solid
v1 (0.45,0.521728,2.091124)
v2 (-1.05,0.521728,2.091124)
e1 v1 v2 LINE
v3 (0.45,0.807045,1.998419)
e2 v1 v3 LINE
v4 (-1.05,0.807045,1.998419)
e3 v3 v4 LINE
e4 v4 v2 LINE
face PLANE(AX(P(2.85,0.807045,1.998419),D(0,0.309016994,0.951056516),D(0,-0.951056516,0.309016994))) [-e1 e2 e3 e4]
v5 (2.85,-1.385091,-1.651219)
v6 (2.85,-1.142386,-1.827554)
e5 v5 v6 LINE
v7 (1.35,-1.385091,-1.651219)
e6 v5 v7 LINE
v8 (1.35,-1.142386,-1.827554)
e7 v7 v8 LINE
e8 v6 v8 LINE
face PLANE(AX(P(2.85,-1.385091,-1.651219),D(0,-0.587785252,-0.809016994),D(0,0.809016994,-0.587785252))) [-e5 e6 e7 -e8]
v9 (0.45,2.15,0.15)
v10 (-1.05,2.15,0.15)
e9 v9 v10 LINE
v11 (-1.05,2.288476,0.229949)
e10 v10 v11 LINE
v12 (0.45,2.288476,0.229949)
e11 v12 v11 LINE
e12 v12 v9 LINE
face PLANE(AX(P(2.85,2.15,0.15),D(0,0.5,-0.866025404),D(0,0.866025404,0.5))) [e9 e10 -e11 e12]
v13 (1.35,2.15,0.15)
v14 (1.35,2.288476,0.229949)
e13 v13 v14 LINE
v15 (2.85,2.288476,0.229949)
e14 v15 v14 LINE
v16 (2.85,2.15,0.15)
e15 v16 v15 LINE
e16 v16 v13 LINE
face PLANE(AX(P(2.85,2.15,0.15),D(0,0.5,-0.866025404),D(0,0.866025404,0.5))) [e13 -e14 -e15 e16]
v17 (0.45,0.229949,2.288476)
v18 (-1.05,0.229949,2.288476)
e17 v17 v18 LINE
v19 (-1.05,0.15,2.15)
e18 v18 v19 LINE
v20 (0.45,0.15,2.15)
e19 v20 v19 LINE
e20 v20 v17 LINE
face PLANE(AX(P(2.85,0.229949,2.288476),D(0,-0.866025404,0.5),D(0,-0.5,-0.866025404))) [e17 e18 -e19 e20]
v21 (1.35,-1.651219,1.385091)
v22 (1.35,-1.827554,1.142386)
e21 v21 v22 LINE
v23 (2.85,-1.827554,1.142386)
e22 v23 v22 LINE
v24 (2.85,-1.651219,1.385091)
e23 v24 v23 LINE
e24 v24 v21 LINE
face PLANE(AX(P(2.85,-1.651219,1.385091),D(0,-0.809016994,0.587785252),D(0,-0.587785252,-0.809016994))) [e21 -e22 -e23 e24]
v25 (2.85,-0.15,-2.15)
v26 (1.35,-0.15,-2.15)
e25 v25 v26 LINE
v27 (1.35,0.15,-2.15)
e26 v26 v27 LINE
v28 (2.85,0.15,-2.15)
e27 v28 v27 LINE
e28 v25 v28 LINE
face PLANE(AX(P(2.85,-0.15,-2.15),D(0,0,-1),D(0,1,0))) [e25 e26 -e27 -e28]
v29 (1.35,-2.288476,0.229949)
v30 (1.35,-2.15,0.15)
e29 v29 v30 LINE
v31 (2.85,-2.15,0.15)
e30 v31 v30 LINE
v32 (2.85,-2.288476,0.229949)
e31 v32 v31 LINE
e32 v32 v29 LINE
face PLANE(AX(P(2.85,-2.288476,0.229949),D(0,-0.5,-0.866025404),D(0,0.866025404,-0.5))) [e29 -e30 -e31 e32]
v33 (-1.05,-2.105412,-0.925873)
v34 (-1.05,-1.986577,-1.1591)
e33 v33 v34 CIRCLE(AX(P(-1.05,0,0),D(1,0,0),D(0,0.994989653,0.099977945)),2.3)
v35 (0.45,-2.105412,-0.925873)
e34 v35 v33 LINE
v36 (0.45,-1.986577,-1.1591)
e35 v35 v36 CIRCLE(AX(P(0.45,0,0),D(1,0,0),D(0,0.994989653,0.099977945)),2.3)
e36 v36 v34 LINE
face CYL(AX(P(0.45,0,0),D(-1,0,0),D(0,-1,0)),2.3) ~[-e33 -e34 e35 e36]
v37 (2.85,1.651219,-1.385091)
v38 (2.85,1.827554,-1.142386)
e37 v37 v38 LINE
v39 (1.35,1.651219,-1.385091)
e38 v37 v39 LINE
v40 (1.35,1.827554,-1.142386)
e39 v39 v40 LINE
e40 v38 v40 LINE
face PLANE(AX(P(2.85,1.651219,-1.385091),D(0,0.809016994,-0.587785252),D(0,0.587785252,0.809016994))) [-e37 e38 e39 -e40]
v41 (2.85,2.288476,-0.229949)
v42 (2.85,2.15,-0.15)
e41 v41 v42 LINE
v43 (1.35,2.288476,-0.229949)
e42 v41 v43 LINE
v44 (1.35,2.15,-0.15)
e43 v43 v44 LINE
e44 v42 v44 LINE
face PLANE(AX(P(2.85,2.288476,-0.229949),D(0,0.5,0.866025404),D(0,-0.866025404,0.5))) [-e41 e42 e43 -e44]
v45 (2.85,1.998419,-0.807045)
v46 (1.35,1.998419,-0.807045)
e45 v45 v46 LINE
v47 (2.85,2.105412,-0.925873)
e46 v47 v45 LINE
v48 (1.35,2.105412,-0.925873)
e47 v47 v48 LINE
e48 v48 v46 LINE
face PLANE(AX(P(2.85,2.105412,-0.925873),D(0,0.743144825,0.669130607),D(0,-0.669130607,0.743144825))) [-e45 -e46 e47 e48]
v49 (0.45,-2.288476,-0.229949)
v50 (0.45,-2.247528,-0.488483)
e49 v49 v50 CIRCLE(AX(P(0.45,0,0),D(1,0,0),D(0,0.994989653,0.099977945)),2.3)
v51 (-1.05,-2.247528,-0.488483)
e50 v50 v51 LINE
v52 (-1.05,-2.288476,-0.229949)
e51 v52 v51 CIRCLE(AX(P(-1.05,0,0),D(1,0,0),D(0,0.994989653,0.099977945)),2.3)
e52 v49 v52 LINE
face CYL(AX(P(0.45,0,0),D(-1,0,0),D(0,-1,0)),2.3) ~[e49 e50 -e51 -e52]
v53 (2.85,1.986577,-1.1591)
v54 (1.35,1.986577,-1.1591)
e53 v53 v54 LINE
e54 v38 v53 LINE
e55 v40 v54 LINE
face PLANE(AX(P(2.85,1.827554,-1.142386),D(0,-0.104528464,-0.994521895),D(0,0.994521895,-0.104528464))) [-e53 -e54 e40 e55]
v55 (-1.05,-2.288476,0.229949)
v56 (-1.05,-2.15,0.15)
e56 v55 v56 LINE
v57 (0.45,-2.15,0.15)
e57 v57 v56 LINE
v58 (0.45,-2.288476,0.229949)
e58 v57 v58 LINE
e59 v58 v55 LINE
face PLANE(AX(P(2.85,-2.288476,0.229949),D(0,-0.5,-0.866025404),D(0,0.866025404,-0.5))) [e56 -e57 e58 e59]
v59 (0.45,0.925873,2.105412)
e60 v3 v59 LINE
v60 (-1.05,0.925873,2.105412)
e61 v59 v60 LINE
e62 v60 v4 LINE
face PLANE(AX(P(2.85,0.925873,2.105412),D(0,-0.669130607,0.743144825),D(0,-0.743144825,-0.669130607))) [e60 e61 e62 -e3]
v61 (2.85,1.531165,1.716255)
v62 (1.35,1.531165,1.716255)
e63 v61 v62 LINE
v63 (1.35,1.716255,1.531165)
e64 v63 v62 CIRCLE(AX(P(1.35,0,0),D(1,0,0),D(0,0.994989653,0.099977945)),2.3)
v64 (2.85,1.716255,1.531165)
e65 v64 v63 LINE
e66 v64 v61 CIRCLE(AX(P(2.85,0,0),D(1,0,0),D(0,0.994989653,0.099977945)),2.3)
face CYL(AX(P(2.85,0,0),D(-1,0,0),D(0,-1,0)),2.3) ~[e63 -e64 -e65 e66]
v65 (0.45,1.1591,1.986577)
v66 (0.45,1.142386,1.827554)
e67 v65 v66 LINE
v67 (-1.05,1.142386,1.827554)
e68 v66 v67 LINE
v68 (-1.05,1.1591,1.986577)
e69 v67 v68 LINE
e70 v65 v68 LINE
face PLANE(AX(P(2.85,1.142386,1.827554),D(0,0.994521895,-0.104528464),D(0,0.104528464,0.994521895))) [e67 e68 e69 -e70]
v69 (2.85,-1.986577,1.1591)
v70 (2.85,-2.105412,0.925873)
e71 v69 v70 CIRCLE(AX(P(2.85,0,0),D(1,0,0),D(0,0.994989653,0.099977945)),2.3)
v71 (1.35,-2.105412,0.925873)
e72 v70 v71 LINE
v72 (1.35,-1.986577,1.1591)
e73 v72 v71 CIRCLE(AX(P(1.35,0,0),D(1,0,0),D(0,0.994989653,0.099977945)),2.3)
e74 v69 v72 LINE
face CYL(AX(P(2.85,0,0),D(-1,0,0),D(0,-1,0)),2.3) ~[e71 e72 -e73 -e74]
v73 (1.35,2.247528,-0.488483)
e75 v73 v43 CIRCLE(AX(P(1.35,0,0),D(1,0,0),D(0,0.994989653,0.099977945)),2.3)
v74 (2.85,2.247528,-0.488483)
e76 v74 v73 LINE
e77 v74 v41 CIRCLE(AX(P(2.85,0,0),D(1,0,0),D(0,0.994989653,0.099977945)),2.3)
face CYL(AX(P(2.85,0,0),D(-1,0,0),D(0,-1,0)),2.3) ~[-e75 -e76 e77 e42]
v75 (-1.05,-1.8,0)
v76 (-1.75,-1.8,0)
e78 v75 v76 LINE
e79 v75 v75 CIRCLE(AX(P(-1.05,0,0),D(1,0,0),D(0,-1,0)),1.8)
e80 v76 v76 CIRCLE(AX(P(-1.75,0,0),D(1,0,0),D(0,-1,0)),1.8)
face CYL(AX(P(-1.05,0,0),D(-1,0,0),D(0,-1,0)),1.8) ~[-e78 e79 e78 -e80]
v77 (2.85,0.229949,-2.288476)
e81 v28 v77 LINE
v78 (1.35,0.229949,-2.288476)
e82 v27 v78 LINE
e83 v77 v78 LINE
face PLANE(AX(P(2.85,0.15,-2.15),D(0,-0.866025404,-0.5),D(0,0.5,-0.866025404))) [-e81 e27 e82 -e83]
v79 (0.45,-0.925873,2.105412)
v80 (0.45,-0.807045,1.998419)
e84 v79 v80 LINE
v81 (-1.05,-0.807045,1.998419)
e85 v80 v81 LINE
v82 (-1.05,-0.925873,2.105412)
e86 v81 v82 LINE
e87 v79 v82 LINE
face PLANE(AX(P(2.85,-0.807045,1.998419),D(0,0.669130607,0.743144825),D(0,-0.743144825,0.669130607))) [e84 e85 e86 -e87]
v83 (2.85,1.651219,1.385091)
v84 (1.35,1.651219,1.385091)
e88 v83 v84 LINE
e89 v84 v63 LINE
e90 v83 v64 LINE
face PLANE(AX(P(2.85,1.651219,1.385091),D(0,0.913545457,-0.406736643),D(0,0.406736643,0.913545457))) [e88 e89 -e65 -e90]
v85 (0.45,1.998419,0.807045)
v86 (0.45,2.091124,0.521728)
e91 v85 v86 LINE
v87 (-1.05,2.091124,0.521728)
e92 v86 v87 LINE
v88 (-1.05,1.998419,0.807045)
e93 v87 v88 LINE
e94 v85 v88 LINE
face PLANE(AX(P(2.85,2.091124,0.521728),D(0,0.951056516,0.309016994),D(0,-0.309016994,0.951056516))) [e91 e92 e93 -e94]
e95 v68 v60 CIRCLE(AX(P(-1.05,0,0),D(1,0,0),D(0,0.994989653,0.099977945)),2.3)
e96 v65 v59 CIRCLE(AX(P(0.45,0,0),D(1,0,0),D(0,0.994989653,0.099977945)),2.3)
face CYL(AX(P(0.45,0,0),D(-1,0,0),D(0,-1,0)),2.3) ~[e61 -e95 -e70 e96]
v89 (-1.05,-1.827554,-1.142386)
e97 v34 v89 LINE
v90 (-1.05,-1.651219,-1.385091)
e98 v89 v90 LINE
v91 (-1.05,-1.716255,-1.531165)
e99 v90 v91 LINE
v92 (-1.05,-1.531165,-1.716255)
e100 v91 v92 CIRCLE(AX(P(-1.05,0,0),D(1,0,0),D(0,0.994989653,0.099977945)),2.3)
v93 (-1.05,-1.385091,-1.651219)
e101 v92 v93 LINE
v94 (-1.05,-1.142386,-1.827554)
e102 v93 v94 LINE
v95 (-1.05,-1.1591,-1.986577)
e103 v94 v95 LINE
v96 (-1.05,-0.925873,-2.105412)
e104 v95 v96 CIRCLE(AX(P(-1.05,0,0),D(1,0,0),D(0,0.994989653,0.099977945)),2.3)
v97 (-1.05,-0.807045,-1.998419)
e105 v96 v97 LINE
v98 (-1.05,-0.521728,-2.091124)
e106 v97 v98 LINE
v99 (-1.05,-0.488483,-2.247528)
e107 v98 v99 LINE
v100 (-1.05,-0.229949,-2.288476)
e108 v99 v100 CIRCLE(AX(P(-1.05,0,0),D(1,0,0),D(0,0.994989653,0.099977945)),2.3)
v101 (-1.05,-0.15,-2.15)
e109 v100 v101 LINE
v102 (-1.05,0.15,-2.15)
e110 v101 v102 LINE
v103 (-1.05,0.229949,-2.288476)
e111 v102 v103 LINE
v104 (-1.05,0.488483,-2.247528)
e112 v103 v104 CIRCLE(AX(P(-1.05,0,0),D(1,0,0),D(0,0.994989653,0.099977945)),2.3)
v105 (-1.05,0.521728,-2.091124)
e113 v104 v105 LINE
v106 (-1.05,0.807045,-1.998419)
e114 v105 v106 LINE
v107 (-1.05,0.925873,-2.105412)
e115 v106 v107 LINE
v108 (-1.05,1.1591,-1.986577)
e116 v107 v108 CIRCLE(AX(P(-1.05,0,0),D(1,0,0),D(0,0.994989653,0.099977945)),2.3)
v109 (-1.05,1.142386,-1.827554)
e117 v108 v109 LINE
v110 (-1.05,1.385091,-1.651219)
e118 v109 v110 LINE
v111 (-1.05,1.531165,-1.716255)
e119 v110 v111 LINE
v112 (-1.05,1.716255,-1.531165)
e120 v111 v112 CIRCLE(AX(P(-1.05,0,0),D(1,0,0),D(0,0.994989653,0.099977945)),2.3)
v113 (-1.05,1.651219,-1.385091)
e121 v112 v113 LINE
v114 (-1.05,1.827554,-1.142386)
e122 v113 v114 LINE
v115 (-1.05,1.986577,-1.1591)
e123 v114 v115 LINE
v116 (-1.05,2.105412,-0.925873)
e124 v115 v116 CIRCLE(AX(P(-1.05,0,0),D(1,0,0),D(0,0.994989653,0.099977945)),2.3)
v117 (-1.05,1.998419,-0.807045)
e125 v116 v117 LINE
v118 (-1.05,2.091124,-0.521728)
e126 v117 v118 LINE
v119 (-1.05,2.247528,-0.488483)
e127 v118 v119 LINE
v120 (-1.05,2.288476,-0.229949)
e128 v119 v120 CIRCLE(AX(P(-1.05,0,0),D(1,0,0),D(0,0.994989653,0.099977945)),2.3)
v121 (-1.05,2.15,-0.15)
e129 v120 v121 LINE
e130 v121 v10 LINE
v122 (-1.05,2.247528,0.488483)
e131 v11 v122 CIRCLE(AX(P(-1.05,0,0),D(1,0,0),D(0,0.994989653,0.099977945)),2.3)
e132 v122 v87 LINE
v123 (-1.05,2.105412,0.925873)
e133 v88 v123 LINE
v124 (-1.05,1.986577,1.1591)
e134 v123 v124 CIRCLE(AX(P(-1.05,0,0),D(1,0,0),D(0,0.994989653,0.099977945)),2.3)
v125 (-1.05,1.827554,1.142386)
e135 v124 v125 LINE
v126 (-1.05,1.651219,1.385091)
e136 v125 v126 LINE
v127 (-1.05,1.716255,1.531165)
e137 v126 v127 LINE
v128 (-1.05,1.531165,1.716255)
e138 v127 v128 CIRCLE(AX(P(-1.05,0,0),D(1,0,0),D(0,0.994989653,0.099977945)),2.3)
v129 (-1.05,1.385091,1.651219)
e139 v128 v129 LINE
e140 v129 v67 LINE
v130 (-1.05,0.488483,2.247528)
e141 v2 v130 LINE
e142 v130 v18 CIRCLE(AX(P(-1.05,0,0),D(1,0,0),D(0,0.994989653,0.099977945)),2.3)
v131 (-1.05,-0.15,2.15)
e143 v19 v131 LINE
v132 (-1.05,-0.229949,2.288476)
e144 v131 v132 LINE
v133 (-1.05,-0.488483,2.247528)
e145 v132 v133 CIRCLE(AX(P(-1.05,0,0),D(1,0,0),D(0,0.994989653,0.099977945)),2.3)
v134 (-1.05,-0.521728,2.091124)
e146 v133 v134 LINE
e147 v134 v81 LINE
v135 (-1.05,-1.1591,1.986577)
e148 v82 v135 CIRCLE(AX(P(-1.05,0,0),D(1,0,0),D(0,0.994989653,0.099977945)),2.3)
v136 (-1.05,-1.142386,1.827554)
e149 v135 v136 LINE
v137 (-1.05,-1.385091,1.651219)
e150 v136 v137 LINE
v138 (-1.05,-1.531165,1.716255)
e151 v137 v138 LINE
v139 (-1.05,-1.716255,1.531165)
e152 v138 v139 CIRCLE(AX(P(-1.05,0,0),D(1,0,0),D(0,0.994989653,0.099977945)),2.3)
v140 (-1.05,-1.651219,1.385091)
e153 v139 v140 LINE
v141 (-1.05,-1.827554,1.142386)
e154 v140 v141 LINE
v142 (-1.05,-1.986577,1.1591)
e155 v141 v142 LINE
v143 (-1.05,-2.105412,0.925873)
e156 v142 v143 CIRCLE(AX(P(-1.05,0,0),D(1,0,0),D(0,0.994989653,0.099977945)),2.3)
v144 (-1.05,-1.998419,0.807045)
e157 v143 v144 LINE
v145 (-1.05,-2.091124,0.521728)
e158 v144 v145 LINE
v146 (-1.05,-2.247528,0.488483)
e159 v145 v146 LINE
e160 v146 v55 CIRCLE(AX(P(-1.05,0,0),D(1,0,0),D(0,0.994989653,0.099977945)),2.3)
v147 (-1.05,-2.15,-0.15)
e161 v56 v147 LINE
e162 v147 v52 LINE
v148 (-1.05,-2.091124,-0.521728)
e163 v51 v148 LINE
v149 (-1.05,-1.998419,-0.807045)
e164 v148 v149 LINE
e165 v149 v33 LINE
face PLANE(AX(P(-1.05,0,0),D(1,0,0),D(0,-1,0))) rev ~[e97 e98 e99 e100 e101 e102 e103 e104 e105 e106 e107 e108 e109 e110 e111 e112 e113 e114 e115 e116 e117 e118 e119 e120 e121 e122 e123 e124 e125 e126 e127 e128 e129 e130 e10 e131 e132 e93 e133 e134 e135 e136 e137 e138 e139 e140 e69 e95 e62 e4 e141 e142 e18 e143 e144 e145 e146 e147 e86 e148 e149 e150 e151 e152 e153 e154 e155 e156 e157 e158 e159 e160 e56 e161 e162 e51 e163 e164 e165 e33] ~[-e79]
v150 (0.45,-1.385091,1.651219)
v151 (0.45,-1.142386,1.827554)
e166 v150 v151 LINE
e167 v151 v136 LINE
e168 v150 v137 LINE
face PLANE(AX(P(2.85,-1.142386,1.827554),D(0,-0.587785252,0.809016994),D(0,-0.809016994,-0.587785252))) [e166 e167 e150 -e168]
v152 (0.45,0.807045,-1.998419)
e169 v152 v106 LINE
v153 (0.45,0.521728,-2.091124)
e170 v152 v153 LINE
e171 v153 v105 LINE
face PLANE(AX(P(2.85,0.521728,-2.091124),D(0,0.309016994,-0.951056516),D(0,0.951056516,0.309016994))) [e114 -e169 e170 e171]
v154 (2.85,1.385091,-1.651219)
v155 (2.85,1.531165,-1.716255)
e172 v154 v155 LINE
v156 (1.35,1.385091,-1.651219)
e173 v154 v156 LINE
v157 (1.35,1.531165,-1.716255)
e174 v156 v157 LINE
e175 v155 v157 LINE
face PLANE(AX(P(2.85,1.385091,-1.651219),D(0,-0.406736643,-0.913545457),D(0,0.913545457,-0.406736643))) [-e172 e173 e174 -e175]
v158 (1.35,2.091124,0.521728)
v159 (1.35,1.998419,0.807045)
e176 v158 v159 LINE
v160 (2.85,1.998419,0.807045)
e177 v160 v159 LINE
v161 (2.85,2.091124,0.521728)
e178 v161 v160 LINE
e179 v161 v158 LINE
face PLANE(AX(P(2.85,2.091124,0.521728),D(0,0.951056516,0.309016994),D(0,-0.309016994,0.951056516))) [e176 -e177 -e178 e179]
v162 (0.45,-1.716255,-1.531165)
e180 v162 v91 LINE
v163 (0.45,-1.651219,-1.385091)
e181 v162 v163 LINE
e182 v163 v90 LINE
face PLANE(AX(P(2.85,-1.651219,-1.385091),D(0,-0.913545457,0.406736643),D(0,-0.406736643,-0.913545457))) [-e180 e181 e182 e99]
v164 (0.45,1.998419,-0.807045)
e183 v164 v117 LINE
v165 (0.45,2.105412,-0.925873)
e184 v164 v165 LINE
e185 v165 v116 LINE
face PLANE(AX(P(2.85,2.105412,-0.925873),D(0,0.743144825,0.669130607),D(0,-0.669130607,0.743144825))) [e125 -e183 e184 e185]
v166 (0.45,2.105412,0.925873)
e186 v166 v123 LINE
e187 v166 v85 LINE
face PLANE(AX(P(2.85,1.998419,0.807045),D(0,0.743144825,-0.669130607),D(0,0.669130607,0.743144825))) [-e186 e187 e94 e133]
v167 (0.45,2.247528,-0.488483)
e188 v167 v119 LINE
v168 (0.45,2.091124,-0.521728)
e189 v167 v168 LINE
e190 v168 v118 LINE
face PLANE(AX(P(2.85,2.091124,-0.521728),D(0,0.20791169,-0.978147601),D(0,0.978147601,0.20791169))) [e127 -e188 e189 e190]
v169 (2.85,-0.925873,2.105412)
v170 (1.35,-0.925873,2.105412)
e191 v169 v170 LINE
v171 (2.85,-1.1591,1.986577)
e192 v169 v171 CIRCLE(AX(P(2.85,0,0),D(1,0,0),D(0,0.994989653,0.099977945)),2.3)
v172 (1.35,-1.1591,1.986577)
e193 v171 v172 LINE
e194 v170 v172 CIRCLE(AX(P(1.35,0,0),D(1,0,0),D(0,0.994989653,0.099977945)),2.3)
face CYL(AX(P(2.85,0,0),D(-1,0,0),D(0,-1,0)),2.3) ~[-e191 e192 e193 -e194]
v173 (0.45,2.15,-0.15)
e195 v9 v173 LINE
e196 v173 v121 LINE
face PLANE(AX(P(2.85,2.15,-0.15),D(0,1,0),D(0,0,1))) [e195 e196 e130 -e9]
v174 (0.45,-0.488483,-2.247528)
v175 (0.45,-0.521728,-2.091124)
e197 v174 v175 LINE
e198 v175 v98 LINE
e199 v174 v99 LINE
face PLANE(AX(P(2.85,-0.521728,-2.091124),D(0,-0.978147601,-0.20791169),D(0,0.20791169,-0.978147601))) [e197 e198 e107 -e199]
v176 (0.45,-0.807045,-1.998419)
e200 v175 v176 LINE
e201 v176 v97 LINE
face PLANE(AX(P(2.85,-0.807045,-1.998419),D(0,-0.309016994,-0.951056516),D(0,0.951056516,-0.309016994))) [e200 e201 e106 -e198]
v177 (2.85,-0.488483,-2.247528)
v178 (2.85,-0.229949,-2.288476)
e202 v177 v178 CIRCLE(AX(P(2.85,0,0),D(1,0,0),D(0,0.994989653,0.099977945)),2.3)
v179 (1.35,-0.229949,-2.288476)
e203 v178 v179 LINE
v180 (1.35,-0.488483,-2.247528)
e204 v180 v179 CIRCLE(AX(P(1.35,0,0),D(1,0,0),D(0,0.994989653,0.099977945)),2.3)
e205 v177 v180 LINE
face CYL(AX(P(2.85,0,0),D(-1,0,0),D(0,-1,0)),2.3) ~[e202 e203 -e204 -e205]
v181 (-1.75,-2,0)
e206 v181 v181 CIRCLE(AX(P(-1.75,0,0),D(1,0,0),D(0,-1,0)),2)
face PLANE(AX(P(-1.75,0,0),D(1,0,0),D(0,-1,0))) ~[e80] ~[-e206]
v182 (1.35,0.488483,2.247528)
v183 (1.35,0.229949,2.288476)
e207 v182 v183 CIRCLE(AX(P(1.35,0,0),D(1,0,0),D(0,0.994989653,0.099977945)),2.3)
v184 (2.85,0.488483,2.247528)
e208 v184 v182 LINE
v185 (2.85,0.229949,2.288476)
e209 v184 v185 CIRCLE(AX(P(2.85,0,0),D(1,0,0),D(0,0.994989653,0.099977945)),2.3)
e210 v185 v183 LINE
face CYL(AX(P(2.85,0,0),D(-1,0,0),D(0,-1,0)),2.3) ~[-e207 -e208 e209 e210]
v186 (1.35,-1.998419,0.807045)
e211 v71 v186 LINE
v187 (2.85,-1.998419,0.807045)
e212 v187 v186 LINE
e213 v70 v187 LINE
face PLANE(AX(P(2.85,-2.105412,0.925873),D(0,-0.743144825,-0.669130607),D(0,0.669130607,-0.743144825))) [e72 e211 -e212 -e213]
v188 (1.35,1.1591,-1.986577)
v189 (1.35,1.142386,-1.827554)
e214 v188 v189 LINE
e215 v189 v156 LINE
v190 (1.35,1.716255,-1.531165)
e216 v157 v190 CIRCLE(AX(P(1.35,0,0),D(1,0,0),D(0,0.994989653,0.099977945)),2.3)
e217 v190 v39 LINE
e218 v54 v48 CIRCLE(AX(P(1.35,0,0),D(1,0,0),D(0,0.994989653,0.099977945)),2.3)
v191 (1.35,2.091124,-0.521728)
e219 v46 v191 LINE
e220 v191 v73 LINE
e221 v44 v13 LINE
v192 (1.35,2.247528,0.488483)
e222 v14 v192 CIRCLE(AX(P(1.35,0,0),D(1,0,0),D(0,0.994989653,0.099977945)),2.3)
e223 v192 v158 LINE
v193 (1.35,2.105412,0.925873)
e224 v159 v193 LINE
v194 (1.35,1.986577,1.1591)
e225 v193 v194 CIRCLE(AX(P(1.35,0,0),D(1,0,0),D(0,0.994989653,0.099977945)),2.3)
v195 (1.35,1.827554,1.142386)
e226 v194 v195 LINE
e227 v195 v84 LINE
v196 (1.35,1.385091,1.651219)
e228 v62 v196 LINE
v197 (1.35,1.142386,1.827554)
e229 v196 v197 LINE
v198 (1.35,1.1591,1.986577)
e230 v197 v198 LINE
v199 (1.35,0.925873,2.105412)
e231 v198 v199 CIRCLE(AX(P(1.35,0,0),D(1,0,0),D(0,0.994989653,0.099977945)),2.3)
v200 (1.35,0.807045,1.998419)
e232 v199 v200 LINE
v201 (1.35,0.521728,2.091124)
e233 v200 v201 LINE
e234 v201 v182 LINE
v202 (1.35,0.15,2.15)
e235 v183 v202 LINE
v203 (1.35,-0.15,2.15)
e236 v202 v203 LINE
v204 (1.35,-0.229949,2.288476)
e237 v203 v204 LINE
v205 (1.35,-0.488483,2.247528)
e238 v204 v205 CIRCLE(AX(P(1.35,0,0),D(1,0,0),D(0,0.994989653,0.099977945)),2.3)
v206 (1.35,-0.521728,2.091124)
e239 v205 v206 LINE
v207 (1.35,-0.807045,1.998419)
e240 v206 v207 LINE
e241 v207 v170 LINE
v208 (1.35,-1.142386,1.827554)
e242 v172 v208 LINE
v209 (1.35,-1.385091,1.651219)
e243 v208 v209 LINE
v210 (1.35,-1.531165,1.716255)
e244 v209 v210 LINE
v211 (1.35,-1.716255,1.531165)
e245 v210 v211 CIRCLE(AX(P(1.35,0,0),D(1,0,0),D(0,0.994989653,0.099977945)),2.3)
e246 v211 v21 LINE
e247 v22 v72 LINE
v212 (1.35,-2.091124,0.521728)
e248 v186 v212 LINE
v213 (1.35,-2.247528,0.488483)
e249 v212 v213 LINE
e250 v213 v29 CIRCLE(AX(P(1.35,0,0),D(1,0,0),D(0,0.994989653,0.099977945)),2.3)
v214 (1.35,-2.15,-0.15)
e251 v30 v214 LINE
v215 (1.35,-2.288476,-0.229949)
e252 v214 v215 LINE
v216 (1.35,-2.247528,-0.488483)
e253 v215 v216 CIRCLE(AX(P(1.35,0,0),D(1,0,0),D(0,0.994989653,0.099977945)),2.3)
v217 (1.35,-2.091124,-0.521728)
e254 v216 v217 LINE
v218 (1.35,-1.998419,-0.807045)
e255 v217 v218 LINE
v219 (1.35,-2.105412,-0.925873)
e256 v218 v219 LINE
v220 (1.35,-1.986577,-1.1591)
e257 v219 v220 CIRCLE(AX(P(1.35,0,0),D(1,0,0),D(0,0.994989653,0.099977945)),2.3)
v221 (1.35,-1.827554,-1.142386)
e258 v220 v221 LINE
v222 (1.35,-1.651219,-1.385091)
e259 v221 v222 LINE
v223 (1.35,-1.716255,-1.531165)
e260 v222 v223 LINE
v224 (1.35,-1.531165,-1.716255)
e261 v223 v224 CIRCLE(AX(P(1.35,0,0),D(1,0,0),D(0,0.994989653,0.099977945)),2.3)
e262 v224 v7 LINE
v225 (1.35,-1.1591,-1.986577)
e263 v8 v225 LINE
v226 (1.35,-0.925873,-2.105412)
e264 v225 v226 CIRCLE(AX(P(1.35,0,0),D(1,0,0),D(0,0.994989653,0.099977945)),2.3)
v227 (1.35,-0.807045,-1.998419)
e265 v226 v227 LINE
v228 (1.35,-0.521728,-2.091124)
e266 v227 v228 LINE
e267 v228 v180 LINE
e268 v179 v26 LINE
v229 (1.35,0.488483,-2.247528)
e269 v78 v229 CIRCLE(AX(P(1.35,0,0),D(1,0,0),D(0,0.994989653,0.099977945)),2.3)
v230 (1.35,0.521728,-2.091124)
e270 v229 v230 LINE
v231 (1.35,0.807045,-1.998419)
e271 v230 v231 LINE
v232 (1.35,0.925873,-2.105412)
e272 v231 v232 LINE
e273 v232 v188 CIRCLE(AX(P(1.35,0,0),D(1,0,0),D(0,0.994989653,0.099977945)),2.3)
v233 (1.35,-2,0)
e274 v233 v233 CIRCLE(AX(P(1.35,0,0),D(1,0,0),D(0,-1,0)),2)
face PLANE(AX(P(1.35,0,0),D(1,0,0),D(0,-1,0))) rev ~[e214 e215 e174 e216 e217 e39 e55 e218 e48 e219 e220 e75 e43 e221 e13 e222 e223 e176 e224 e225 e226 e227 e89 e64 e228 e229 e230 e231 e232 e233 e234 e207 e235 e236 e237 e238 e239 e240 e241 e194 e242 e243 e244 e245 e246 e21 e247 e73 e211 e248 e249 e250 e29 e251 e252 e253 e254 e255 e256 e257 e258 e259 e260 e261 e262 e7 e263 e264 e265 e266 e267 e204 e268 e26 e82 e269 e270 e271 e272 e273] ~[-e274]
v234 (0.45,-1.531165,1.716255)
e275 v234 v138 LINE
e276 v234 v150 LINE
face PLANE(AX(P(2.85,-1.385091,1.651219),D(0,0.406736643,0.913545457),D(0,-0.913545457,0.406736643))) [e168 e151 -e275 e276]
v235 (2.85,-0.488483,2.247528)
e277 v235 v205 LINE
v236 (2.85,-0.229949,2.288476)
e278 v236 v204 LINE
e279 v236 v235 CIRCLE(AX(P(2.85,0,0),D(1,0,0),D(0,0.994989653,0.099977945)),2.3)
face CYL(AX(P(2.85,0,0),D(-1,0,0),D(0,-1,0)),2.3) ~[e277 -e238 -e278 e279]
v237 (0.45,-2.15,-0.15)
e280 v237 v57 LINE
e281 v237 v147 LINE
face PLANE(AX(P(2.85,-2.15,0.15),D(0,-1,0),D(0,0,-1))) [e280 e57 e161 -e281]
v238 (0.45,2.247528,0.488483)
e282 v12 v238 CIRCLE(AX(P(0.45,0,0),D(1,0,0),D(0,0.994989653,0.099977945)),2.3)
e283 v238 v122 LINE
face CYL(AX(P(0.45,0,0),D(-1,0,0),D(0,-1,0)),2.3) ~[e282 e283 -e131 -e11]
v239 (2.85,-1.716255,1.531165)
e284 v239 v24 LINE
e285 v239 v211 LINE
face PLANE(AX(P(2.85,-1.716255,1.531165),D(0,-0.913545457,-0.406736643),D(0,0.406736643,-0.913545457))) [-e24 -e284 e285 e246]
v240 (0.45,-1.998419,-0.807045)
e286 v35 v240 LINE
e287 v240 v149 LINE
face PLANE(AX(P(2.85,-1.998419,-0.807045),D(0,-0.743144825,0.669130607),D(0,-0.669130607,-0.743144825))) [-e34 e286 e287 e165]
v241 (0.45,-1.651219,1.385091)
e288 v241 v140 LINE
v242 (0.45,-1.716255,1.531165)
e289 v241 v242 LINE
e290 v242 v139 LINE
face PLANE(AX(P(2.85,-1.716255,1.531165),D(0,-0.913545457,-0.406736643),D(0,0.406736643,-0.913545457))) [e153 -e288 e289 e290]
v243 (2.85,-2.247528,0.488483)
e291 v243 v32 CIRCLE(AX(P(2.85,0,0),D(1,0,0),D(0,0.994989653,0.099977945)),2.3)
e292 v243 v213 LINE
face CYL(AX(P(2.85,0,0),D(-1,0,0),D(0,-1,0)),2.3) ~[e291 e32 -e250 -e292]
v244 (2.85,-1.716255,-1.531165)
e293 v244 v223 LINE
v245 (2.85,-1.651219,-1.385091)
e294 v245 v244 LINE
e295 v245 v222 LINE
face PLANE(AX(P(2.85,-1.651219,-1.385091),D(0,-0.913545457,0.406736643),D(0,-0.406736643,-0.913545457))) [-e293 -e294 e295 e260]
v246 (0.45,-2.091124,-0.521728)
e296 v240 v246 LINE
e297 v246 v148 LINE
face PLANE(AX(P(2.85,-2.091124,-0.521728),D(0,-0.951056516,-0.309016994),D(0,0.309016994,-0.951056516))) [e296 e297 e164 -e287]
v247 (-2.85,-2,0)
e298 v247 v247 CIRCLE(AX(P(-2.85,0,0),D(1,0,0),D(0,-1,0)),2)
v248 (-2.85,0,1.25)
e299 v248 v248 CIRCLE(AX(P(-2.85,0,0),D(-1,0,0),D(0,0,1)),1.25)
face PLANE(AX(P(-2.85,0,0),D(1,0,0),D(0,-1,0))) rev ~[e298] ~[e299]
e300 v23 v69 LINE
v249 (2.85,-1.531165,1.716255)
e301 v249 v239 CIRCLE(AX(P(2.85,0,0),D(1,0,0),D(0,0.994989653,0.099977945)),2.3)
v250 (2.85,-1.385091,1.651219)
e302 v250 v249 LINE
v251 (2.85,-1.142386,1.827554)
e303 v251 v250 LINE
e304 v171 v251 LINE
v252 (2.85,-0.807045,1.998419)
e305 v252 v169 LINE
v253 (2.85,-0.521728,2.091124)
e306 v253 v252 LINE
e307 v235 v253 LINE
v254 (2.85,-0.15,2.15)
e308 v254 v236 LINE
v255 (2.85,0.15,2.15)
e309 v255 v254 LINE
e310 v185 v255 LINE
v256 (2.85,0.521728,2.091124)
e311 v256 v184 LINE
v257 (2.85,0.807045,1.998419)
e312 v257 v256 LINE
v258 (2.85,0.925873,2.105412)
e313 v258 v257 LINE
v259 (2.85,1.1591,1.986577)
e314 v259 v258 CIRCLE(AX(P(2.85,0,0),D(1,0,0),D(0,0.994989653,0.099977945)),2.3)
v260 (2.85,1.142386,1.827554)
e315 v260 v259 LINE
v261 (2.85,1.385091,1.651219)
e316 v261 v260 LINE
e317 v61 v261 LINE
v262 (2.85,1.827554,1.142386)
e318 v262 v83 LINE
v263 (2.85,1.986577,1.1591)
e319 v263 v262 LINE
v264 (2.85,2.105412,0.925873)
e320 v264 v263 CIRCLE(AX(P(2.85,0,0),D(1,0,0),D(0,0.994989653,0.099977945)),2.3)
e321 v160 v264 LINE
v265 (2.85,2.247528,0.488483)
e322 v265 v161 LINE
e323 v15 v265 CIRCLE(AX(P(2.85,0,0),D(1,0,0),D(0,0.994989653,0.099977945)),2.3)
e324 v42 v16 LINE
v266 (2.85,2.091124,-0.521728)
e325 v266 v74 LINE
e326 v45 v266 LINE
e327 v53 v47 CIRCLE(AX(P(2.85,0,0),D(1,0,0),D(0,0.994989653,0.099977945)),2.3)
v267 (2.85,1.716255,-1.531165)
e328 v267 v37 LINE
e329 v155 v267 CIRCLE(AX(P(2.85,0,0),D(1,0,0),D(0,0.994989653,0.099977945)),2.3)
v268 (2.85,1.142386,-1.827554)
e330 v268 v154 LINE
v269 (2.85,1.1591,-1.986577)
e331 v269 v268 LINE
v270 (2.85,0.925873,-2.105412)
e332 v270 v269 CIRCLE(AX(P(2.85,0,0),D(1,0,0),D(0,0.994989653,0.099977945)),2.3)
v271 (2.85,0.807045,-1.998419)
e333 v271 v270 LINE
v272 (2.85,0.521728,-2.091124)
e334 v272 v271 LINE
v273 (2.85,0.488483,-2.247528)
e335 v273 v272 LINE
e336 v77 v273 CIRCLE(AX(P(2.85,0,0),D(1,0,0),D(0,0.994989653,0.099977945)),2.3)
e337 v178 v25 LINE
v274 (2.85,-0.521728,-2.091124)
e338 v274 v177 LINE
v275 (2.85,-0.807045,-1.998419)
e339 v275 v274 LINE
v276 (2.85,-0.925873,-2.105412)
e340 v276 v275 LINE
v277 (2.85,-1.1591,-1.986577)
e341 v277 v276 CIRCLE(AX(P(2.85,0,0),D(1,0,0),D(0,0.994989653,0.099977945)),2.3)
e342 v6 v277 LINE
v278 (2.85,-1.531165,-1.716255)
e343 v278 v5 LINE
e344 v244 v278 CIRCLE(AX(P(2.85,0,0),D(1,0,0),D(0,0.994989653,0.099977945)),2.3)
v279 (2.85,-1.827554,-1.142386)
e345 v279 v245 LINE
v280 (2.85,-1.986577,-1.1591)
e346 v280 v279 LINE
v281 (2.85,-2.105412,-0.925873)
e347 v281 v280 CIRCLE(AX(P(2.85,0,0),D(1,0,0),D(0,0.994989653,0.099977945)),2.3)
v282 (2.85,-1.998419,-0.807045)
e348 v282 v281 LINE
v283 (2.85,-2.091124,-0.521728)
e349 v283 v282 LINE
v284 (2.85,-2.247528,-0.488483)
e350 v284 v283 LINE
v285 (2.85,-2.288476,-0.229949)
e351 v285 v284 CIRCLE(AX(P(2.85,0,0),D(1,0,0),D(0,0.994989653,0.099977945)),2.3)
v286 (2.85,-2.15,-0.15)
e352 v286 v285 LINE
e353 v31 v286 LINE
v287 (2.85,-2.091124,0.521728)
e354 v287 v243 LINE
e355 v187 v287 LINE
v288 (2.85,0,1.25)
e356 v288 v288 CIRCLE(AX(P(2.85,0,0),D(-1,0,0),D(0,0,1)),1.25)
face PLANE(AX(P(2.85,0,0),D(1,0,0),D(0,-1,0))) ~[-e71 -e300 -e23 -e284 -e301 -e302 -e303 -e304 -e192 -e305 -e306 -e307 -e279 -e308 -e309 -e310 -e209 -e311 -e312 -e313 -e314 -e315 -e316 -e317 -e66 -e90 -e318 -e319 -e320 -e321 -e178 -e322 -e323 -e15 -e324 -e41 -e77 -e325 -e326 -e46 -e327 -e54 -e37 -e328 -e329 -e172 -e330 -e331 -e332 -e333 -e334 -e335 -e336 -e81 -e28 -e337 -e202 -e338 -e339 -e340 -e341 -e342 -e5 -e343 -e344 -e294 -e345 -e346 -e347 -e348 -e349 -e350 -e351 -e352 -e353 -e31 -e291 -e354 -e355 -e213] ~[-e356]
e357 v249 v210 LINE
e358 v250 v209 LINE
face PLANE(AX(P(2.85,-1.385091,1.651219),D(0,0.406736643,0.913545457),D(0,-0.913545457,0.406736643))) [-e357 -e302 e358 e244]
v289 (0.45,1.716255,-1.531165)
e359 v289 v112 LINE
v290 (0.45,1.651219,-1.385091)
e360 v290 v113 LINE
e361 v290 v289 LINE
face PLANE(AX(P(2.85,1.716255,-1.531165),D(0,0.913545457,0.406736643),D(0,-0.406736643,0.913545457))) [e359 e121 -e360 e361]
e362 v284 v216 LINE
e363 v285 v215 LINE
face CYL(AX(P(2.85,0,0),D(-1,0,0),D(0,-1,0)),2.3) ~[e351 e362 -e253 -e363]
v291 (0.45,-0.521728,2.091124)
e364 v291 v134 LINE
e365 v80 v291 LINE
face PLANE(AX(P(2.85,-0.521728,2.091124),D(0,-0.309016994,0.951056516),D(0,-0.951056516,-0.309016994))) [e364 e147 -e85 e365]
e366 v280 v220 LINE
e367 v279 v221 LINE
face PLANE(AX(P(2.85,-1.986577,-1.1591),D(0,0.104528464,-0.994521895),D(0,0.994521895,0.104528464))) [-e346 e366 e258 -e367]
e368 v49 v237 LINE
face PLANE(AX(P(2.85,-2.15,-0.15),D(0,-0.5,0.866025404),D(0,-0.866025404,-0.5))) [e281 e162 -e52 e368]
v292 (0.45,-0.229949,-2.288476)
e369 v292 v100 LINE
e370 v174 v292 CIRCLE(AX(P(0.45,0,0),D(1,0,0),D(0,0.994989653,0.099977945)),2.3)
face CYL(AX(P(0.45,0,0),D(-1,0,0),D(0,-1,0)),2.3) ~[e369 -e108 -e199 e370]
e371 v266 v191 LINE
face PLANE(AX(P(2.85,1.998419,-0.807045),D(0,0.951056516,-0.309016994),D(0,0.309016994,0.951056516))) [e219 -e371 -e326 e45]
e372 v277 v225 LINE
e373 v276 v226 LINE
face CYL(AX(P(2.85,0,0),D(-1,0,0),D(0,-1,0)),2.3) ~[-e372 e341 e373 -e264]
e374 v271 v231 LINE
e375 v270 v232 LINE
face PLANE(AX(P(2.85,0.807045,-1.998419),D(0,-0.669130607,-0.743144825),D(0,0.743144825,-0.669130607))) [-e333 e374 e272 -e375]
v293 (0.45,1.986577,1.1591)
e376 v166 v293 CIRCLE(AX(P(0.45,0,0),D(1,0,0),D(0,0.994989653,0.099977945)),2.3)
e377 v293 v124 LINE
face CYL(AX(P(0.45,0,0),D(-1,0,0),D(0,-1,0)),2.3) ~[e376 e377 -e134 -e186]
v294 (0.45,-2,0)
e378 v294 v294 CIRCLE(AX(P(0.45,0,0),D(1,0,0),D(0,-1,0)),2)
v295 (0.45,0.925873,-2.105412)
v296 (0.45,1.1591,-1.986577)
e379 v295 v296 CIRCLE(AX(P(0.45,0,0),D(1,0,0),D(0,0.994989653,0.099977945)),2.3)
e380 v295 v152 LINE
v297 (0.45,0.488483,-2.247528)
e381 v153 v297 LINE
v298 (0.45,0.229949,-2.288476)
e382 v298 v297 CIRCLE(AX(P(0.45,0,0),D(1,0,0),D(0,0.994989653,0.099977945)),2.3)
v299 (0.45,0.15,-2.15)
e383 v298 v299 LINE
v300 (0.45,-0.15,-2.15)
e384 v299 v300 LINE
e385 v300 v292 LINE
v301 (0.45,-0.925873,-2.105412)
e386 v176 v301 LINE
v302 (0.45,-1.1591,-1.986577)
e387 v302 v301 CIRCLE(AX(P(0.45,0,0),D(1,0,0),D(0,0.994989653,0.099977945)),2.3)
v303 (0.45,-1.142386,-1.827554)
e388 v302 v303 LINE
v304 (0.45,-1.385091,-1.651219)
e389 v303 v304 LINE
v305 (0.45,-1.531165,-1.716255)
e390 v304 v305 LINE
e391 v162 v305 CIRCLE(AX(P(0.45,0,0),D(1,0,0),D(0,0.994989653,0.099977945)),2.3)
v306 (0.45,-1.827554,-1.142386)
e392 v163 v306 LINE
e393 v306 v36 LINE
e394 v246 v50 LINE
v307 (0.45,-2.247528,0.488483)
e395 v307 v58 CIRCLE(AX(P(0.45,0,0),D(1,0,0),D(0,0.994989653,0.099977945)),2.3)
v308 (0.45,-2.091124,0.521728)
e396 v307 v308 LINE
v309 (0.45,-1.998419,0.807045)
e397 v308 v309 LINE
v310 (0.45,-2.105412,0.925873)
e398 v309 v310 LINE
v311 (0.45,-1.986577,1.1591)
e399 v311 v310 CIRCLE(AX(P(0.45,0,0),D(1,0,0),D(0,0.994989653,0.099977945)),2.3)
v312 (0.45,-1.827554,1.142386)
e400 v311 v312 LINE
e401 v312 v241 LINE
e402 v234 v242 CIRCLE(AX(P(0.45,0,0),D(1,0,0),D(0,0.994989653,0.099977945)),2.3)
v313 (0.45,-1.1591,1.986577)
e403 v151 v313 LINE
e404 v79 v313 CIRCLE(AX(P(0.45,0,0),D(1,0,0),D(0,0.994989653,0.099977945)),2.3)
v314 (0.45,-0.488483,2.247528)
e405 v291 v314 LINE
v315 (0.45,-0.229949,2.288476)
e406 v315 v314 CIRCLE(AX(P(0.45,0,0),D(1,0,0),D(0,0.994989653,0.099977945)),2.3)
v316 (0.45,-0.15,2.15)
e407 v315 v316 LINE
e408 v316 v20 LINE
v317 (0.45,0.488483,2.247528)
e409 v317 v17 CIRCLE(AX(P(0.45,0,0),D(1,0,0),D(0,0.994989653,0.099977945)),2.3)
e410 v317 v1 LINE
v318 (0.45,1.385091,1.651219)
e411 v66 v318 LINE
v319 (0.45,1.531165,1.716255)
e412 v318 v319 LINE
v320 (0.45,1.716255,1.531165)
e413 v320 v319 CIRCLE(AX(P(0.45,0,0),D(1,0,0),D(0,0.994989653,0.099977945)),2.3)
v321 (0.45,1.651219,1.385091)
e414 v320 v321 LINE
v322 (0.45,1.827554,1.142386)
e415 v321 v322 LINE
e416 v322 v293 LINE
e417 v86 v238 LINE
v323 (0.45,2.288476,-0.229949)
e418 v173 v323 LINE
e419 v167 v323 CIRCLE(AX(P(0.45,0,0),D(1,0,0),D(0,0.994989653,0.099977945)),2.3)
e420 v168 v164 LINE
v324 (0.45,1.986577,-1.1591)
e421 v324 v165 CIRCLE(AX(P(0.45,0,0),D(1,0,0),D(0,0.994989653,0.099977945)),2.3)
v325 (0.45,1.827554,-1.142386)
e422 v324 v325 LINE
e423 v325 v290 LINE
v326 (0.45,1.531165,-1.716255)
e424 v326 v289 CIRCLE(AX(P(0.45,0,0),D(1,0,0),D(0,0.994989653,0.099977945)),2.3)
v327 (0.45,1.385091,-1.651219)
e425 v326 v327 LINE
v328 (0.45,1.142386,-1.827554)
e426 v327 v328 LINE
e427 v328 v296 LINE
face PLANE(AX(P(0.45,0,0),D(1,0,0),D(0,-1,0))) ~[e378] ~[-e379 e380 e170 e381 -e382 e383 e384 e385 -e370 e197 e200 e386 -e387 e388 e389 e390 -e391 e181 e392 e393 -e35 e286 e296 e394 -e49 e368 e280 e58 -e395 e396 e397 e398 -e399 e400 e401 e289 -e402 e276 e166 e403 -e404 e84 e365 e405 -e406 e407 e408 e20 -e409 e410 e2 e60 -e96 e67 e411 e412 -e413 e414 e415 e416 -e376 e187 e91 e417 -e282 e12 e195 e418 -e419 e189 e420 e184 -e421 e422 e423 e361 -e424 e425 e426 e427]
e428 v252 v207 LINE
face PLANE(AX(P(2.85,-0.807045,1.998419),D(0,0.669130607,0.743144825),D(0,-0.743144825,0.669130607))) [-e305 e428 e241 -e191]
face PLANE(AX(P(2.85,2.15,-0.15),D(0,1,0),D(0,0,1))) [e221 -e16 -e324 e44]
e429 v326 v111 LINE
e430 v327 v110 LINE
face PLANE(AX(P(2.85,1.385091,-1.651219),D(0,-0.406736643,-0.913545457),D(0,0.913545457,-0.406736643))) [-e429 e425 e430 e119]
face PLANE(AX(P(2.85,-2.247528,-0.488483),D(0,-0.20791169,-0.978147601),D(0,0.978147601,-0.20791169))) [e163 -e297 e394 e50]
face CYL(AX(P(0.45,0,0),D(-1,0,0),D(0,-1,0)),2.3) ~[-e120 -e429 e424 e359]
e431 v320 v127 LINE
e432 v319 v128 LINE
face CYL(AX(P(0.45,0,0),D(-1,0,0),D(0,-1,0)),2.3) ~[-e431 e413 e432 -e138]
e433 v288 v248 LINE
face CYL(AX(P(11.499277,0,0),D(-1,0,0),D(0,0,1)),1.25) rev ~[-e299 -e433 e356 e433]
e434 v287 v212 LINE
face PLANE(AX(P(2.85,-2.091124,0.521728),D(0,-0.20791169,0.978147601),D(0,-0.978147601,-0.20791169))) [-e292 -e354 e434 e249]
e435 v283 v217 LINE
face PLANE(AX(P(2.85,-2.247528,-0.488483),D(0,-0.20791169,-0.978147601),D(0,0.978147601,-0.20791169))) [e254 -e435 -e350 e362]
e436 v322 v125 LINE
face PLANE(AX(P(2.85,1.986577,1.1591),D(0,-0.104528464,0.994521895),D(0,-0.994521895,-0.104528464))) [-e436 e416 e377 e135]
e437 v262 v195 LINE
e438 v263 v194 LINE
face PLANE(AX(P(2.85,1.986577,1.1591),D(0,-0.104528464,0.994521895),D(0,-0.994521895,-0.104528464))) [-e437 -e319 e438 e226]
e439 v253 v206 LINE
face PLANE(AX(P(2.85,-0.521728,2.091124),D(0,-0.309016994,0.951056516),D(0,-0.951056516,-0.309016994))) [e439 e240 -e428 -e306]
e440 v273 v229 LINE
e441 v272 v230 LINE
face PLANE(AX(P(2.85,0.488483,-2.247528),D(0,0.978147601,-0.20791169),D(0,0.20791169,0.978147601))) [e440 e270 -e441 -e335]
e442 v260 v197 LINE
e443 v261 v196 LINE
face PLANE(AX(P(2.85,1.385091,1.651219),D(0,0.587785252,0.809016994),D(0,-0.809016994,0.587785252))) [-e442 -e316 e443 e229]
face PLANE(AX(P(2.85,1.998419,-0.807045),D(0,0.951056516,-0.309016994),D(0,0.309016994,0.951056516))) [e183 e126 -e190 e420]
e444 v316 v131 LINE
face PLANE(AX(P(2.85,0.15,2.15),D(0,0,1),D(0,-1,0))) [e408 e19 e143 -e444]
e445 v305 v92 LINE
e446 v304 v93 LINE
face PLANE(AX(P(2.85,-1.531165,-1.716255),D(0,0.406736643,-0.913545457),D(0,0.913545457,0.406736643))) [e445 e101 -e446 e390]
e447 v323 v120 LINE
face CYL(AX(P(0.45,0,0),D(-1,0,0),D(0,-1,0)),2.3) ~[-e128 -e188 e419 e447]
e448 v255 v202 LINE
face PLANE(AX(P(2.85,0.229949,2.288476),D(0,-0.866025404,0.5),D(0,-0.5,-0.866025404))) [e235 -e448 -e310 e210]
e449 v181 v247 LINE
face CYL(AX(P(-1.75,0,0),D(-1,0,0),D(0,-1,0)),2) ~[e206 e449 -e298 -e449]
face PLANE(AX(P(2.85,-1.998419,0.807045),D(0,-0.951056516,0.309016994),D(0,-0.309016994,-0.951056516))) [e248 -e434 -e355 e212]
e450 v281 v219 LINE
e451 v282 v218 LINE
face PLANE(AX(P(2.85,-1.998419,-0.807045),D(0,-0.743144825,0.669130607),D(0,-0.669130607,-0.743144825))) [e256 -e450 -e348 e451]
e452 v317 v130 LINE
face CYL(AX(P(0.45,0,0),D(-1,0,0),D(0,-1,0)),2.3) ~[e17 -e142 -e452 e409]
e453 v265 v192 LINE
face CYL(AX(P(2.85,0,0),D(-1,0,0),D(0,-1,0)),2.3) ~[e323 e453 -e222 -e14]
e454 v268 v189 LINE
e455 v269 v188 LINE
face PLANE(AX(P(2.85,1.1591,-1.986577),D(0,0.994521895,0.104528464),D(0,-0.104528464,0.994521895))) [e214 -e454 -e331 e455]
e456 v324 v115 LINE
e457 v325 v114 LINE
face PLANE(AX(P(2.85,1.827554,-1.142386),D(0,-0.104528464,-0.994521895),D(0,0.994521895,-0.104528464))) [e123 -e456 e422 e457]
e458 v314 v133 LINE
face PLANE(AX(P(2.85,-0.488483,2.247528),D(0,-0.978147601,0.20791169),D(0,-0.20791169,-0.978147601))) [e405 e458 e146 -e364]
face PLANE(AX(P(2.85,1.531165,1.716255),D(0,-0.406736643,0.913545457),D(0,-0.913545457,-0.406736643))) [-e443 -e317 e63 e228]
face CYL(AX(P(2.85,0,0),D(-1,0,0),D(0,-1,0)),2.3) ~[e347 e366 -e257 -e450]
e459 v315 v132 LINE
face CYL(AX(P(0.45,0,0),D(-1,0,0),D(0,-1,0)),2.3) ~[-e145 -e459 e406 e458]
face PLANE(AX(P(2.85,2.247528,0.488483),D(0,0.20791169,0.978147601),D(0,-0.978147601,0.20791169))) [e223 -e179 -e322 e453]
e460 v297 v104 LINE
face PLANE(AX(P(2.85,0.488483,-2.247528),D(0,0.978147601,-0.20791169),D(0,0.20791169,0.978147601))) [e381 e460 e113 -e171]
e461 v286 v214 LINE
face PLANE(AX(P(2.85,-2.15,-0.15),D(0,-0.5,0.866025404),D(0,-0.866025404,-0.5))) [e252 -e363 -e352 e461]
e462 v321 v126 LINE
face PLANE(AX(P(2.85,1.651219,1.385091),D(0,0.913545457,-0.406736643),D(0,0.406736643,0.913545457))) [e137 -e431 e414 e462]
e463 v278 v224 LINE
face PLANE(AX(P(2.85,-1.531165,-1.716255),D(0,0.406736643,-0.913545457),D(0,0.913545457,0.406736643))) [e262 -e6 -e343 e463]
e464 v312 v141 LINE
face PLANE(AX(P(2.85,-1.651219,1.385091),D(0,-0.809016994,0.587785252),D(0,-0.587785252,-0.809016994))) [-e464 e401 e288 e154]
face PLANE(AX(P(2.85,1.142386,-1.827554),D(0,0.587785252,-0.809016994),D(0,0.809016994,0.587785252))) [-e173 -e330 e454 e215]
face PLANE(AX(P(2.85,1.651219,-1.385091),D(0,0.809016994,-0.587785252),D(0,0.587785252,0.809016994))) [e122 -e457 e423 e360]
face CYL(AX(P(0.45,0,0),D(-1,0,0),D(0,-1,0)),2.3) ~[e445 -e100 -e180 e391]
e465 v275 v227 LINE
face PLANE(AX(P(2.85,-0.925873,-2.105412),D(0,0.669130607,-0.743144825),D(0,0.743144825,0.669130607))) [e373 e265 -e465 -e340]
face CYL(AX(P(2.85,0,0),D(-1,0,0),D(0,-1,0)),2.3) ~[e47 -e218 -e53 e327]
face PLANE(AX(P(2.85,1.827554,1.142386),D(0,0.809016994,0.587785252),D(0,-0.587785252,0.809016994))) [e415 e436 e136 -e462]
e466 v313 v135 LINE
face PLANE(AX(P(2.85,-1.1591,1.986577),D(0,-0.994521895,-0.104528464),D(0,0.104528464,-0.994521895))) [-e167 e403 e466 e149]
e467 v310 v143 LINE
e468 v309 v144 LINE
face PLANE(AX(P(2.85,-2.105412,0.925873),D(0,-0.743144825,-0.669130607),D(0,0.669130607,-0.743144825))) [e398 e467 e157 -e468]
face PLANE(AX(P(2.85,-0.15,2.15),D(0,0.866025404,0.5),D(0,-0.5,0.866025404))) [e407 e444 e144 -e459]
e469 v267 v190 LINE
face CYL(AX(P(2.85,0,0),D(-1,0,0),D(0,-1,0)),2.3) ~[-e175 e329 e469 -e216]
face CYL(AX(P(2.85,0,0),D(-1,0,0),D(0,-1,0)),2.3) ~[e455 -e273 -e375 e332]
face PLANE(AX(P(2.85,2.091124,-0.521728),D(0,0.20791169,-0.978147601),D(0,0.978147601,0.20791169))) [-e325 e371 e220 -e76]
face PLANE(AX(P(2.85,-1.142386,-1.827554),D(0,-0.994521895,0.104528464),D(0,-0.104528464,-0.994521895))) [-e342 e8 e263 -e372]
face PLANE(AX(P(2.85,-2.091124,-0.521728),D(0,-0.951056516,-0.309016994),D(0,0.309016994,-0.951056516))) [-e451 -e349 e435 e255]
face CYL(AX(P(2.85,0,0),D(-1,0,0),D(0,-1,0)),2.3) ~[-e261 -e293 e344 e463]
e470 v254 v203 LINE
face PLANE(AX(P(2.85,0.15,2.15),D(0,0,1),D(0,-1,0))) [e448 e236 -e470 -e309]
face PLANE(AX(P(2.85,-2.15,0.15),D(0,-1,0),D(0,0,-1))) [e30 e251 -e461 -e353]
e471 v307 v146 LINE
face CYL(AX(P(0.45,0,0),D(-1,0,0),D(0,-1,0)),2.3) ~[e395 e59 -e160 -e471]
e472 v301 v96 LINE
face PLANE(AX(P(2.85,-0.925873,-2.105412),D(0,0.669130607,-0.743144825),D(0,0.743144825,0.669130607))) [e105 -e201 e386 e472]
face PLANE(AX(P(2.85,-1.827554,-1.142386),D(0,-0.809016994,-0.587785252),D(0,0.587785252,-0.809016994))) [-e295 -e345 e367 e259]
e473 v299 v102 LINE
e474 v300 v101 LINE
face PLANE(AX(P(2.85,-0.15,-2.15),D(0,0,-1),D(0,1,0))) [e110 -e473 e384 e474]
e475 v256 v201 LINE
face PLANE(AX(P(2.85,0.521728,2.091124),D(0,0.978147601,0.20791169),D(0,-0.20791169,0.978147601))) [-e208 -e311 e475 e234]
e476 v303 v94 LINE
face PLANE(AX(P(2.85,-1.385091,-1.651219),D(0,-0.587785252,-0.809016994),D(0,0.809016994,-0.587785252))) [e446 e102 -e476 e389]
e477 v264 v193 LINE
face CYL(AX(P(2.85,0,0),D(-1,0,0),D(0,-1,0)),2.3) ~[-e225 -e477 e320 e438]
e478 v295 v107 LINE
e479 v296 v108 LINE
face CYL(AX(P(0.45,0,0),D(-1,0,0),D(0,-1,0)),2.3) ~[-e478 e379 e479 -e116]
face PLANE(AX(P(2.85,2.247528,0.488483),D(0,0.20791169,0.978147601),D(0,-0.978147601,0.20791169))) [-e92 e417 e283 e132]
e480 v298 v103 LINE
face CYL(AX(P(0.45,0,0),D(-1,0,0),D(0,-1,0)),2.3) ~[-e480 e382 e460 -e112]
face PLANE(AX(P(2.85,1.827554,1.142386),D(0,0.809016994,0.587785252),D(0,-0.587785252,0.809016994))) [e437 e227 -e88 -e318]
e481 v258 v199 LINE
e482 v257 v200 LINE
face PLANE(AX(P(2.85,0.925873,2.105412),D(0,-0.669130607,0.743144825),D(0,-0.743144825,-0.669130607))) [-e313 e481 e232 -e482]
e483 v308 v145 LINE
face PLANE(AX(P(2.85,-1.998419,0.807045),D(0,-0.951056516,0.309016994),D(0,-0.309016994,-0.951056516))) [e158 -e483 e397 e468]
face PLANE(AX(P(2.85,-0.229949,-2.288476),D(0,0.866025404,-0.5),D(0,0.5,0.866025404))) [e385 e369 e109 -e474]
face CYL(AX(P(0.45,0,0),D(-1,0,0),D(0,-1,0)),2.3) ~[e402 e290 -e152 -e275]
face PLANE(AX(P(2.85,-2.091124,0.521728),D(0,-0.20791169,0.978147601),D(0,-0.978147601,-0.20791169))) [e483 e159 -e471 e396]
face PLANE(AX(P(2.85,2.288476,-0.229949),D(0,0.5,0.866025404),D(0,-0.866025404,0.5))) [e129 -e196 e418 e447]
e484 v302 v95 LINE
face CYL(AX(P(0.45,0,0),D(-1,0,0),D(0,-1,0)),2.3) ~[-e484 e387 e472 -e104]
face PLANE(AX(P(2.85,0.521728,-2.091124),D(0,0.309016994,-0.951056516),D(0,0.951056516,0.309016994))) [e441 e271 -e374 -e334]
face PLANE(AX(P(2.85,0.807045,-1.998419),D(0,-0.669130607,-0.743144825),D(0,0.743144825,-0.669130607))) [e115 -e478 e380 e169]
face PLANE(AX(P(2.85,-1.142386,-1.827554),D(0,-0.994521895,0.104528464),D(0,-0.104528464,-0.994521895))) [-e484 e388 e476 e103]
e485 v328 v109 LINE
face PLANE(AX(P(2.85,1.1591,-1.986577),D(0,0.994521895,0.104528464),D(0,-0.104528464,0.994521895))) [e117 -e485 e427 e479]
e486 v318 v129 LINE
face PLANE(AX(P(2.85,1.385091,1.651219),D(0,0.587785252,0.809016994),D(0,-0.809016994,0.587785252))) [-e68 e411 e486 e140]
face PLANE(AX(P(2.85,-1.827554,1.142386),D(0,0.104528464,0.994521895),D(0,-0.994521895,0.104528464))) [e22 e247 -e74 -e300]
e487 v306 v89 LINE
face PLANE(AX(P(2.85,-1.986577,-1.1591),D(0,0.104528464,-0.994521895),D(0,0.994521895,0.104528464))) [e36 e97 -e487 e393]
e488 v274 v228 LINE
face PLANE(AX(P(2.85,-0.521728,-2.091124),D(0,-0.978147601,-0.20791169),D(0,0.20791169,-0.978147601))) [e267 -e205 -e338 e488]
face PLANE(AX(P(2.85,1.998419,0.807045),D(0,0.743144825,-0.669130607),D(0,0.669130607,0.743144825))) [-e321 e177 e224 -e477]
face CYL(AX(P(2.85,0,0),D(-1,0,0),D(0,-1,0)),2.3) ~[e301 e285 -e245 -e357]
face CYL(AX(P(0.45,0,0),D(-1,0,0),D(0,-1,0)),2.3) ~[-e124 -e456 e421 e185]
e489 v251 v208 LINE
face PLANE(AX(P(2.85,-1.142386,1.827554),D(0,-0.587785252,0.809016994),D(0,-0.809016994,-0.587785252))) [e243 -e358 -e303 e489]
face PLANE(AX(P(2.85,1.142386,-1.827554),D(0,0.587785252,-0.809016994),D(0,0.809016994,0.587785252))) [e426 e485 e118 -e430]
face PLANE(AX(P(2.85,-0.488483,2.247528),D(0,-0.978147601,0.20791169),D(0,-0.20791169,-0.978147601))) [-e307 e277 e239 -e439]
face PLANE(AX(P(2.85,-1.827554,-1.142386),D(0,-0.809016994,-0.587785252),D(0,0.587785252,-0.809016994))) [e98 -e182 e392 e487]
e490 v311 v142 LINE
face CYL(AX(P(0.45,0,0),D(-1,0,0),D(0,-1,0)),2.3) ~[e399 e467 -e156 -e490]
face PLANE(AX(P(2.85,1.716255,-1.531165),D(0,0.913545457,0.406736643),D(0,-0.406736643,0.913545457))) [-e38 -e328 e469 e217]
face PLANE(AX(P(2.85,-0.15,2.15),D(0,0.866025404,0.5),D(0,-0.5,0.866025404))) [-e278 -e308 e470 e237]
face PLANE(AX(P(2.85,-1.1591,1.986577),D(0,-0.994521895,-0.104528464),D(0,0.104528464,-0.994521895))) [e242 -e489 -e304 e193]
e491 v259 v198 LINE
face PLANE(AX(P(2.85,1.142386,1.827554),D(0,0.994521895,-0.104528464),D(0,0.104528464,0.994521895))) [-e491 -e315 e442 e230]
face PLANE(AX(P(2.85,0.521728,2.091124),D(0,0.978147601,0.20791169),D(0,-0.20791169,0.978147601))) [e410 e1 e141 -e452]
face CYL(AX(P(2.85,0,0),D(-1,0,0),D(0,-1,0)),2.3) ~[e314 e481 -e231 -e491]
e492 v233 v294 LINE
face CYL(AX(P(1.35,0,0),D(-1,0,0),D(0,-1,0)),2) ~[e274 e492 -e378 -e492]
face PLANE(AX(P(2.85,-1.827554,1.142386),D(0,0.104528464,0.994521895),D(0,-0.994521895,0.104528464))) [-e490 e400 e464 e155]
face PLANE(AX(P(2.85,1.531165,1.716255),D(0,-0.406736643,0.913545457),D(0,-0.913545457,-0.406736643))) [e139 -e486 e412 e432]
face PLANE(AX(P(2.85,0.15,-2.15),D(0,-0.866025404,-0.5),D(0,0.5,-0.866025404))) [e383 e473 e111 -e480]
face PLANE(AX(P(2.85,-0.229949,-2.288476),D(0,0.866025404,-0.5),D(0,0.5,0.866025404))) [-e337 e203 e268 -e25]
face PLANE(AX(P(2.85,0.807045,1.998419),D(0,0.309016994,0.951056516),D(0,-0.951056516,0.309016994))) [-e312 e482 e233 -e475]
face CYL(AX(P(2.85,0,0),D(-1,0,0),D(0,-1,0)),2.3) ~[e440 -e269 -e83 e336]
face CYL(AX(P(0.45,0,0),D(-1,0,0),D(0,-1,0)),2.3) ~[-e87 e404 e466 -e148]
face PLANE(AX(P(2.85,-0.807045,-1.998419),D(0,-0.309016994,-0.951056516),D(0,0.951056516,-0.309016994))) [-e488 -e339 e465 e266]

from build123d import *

# Parameters (mm, degrees)
M3X0_5_TAPPED_HOLE1_D = 2.5
CUT_EXTRUDE1_REACH    = 8.563
CIRPATTERN1_COUNT     = 20


with BuildPart() as part:
    # Sketch1 → Revolve1 (revolve)
    with BuildSketch(Plane.XY, mode=Mode.PRIVATE) as revolve1_sk:
        Polygon((-2.85, 0), (2.85, 0), (2.85, 2.3), (1.35, 2.3), (1.35, 2), (0.45, 2), (0.45, 2.3), (-1.05, 2.3), (-1.05, 1.8), (-1.75, 1.8), (-1.75, 2), (-2.85, 2), align=None)
    revolve(revolve1_sk.sketch.rotate(Axis((-2.85, 0, 0), (1, 0, 0)), 180), axis=Axis((-2.85, 0, 0), (1, 0, 0)))

    # M3x0.5 Tapped Hole1 (through all)
    with Locations(Plane(origin=(2.85, 0, 0), x_dir=(0, 0, -1), z_dir=(1, 0, 0))):
        with Locations((0, 0)):
            Hole(M3X0_5_TAPPED_HOLE1_D / 2)

    # Cut-Extrude1: up to this face of the body (flat: up to its plane)
    cut_extrude1_end = Plane(part.part.faces().sort_by_distance((-1.05, 2.234946176, 0))[0])
    # Sketch4 → Cut-Extrude1 (cut, up to the picked face)
    with BuildSketch(Plane(origin=(2.85, 0, 0), x_dir=(0, 0, -1), z_dir=(1, 0, 0)), mode=Mode.PRIVATE) as cut_extrude1_sk1:
        with BuildLine():
            Line((0.229949273, 2.288476203), (0.15, 2.15))
            Line((0.15, 2.15), (-0.15, 2.15))
            Line((-0.15, 2.15), (-0.229949273, 2.288476203))
            ThreePointArc((-0.229949273, 2.288476203), (0, 2.3), (0.229949273, 2.288476203))
        make_face()
    cut_extrude1_tool1 = split(extrude(cut_extrude1_sk1.sketch, amount=-CUT_EXTRUDE1_REACH, mode=Mode.PRIVATE), bisect_by=cut_extrude1_end, keep=Keep.BOTH, mode=Mode.PRIVATE)
    cut_extrude1 = cut_extrude1_tool1.solids().sort_by(Axis((2.85, 2.228438, 0), (-1, 0, 0)))[0]
    add(cut_extrude1, mode=Mode.SUBTRACT)

    # CirPattern1: Cut-Extrude1 ×20 about axis
    cirpattern1_axis = Axis((0, 0, 0), (1, 0, 0))
    for i in range(1, CIRPATTERN1_COUNT):
        add(cut_extrude1.rotate(cirpattern1_axis, i * 360 / CIRPATTERN1_COUNT), mode=Mode.SUBTRACT)


solid = part.part
